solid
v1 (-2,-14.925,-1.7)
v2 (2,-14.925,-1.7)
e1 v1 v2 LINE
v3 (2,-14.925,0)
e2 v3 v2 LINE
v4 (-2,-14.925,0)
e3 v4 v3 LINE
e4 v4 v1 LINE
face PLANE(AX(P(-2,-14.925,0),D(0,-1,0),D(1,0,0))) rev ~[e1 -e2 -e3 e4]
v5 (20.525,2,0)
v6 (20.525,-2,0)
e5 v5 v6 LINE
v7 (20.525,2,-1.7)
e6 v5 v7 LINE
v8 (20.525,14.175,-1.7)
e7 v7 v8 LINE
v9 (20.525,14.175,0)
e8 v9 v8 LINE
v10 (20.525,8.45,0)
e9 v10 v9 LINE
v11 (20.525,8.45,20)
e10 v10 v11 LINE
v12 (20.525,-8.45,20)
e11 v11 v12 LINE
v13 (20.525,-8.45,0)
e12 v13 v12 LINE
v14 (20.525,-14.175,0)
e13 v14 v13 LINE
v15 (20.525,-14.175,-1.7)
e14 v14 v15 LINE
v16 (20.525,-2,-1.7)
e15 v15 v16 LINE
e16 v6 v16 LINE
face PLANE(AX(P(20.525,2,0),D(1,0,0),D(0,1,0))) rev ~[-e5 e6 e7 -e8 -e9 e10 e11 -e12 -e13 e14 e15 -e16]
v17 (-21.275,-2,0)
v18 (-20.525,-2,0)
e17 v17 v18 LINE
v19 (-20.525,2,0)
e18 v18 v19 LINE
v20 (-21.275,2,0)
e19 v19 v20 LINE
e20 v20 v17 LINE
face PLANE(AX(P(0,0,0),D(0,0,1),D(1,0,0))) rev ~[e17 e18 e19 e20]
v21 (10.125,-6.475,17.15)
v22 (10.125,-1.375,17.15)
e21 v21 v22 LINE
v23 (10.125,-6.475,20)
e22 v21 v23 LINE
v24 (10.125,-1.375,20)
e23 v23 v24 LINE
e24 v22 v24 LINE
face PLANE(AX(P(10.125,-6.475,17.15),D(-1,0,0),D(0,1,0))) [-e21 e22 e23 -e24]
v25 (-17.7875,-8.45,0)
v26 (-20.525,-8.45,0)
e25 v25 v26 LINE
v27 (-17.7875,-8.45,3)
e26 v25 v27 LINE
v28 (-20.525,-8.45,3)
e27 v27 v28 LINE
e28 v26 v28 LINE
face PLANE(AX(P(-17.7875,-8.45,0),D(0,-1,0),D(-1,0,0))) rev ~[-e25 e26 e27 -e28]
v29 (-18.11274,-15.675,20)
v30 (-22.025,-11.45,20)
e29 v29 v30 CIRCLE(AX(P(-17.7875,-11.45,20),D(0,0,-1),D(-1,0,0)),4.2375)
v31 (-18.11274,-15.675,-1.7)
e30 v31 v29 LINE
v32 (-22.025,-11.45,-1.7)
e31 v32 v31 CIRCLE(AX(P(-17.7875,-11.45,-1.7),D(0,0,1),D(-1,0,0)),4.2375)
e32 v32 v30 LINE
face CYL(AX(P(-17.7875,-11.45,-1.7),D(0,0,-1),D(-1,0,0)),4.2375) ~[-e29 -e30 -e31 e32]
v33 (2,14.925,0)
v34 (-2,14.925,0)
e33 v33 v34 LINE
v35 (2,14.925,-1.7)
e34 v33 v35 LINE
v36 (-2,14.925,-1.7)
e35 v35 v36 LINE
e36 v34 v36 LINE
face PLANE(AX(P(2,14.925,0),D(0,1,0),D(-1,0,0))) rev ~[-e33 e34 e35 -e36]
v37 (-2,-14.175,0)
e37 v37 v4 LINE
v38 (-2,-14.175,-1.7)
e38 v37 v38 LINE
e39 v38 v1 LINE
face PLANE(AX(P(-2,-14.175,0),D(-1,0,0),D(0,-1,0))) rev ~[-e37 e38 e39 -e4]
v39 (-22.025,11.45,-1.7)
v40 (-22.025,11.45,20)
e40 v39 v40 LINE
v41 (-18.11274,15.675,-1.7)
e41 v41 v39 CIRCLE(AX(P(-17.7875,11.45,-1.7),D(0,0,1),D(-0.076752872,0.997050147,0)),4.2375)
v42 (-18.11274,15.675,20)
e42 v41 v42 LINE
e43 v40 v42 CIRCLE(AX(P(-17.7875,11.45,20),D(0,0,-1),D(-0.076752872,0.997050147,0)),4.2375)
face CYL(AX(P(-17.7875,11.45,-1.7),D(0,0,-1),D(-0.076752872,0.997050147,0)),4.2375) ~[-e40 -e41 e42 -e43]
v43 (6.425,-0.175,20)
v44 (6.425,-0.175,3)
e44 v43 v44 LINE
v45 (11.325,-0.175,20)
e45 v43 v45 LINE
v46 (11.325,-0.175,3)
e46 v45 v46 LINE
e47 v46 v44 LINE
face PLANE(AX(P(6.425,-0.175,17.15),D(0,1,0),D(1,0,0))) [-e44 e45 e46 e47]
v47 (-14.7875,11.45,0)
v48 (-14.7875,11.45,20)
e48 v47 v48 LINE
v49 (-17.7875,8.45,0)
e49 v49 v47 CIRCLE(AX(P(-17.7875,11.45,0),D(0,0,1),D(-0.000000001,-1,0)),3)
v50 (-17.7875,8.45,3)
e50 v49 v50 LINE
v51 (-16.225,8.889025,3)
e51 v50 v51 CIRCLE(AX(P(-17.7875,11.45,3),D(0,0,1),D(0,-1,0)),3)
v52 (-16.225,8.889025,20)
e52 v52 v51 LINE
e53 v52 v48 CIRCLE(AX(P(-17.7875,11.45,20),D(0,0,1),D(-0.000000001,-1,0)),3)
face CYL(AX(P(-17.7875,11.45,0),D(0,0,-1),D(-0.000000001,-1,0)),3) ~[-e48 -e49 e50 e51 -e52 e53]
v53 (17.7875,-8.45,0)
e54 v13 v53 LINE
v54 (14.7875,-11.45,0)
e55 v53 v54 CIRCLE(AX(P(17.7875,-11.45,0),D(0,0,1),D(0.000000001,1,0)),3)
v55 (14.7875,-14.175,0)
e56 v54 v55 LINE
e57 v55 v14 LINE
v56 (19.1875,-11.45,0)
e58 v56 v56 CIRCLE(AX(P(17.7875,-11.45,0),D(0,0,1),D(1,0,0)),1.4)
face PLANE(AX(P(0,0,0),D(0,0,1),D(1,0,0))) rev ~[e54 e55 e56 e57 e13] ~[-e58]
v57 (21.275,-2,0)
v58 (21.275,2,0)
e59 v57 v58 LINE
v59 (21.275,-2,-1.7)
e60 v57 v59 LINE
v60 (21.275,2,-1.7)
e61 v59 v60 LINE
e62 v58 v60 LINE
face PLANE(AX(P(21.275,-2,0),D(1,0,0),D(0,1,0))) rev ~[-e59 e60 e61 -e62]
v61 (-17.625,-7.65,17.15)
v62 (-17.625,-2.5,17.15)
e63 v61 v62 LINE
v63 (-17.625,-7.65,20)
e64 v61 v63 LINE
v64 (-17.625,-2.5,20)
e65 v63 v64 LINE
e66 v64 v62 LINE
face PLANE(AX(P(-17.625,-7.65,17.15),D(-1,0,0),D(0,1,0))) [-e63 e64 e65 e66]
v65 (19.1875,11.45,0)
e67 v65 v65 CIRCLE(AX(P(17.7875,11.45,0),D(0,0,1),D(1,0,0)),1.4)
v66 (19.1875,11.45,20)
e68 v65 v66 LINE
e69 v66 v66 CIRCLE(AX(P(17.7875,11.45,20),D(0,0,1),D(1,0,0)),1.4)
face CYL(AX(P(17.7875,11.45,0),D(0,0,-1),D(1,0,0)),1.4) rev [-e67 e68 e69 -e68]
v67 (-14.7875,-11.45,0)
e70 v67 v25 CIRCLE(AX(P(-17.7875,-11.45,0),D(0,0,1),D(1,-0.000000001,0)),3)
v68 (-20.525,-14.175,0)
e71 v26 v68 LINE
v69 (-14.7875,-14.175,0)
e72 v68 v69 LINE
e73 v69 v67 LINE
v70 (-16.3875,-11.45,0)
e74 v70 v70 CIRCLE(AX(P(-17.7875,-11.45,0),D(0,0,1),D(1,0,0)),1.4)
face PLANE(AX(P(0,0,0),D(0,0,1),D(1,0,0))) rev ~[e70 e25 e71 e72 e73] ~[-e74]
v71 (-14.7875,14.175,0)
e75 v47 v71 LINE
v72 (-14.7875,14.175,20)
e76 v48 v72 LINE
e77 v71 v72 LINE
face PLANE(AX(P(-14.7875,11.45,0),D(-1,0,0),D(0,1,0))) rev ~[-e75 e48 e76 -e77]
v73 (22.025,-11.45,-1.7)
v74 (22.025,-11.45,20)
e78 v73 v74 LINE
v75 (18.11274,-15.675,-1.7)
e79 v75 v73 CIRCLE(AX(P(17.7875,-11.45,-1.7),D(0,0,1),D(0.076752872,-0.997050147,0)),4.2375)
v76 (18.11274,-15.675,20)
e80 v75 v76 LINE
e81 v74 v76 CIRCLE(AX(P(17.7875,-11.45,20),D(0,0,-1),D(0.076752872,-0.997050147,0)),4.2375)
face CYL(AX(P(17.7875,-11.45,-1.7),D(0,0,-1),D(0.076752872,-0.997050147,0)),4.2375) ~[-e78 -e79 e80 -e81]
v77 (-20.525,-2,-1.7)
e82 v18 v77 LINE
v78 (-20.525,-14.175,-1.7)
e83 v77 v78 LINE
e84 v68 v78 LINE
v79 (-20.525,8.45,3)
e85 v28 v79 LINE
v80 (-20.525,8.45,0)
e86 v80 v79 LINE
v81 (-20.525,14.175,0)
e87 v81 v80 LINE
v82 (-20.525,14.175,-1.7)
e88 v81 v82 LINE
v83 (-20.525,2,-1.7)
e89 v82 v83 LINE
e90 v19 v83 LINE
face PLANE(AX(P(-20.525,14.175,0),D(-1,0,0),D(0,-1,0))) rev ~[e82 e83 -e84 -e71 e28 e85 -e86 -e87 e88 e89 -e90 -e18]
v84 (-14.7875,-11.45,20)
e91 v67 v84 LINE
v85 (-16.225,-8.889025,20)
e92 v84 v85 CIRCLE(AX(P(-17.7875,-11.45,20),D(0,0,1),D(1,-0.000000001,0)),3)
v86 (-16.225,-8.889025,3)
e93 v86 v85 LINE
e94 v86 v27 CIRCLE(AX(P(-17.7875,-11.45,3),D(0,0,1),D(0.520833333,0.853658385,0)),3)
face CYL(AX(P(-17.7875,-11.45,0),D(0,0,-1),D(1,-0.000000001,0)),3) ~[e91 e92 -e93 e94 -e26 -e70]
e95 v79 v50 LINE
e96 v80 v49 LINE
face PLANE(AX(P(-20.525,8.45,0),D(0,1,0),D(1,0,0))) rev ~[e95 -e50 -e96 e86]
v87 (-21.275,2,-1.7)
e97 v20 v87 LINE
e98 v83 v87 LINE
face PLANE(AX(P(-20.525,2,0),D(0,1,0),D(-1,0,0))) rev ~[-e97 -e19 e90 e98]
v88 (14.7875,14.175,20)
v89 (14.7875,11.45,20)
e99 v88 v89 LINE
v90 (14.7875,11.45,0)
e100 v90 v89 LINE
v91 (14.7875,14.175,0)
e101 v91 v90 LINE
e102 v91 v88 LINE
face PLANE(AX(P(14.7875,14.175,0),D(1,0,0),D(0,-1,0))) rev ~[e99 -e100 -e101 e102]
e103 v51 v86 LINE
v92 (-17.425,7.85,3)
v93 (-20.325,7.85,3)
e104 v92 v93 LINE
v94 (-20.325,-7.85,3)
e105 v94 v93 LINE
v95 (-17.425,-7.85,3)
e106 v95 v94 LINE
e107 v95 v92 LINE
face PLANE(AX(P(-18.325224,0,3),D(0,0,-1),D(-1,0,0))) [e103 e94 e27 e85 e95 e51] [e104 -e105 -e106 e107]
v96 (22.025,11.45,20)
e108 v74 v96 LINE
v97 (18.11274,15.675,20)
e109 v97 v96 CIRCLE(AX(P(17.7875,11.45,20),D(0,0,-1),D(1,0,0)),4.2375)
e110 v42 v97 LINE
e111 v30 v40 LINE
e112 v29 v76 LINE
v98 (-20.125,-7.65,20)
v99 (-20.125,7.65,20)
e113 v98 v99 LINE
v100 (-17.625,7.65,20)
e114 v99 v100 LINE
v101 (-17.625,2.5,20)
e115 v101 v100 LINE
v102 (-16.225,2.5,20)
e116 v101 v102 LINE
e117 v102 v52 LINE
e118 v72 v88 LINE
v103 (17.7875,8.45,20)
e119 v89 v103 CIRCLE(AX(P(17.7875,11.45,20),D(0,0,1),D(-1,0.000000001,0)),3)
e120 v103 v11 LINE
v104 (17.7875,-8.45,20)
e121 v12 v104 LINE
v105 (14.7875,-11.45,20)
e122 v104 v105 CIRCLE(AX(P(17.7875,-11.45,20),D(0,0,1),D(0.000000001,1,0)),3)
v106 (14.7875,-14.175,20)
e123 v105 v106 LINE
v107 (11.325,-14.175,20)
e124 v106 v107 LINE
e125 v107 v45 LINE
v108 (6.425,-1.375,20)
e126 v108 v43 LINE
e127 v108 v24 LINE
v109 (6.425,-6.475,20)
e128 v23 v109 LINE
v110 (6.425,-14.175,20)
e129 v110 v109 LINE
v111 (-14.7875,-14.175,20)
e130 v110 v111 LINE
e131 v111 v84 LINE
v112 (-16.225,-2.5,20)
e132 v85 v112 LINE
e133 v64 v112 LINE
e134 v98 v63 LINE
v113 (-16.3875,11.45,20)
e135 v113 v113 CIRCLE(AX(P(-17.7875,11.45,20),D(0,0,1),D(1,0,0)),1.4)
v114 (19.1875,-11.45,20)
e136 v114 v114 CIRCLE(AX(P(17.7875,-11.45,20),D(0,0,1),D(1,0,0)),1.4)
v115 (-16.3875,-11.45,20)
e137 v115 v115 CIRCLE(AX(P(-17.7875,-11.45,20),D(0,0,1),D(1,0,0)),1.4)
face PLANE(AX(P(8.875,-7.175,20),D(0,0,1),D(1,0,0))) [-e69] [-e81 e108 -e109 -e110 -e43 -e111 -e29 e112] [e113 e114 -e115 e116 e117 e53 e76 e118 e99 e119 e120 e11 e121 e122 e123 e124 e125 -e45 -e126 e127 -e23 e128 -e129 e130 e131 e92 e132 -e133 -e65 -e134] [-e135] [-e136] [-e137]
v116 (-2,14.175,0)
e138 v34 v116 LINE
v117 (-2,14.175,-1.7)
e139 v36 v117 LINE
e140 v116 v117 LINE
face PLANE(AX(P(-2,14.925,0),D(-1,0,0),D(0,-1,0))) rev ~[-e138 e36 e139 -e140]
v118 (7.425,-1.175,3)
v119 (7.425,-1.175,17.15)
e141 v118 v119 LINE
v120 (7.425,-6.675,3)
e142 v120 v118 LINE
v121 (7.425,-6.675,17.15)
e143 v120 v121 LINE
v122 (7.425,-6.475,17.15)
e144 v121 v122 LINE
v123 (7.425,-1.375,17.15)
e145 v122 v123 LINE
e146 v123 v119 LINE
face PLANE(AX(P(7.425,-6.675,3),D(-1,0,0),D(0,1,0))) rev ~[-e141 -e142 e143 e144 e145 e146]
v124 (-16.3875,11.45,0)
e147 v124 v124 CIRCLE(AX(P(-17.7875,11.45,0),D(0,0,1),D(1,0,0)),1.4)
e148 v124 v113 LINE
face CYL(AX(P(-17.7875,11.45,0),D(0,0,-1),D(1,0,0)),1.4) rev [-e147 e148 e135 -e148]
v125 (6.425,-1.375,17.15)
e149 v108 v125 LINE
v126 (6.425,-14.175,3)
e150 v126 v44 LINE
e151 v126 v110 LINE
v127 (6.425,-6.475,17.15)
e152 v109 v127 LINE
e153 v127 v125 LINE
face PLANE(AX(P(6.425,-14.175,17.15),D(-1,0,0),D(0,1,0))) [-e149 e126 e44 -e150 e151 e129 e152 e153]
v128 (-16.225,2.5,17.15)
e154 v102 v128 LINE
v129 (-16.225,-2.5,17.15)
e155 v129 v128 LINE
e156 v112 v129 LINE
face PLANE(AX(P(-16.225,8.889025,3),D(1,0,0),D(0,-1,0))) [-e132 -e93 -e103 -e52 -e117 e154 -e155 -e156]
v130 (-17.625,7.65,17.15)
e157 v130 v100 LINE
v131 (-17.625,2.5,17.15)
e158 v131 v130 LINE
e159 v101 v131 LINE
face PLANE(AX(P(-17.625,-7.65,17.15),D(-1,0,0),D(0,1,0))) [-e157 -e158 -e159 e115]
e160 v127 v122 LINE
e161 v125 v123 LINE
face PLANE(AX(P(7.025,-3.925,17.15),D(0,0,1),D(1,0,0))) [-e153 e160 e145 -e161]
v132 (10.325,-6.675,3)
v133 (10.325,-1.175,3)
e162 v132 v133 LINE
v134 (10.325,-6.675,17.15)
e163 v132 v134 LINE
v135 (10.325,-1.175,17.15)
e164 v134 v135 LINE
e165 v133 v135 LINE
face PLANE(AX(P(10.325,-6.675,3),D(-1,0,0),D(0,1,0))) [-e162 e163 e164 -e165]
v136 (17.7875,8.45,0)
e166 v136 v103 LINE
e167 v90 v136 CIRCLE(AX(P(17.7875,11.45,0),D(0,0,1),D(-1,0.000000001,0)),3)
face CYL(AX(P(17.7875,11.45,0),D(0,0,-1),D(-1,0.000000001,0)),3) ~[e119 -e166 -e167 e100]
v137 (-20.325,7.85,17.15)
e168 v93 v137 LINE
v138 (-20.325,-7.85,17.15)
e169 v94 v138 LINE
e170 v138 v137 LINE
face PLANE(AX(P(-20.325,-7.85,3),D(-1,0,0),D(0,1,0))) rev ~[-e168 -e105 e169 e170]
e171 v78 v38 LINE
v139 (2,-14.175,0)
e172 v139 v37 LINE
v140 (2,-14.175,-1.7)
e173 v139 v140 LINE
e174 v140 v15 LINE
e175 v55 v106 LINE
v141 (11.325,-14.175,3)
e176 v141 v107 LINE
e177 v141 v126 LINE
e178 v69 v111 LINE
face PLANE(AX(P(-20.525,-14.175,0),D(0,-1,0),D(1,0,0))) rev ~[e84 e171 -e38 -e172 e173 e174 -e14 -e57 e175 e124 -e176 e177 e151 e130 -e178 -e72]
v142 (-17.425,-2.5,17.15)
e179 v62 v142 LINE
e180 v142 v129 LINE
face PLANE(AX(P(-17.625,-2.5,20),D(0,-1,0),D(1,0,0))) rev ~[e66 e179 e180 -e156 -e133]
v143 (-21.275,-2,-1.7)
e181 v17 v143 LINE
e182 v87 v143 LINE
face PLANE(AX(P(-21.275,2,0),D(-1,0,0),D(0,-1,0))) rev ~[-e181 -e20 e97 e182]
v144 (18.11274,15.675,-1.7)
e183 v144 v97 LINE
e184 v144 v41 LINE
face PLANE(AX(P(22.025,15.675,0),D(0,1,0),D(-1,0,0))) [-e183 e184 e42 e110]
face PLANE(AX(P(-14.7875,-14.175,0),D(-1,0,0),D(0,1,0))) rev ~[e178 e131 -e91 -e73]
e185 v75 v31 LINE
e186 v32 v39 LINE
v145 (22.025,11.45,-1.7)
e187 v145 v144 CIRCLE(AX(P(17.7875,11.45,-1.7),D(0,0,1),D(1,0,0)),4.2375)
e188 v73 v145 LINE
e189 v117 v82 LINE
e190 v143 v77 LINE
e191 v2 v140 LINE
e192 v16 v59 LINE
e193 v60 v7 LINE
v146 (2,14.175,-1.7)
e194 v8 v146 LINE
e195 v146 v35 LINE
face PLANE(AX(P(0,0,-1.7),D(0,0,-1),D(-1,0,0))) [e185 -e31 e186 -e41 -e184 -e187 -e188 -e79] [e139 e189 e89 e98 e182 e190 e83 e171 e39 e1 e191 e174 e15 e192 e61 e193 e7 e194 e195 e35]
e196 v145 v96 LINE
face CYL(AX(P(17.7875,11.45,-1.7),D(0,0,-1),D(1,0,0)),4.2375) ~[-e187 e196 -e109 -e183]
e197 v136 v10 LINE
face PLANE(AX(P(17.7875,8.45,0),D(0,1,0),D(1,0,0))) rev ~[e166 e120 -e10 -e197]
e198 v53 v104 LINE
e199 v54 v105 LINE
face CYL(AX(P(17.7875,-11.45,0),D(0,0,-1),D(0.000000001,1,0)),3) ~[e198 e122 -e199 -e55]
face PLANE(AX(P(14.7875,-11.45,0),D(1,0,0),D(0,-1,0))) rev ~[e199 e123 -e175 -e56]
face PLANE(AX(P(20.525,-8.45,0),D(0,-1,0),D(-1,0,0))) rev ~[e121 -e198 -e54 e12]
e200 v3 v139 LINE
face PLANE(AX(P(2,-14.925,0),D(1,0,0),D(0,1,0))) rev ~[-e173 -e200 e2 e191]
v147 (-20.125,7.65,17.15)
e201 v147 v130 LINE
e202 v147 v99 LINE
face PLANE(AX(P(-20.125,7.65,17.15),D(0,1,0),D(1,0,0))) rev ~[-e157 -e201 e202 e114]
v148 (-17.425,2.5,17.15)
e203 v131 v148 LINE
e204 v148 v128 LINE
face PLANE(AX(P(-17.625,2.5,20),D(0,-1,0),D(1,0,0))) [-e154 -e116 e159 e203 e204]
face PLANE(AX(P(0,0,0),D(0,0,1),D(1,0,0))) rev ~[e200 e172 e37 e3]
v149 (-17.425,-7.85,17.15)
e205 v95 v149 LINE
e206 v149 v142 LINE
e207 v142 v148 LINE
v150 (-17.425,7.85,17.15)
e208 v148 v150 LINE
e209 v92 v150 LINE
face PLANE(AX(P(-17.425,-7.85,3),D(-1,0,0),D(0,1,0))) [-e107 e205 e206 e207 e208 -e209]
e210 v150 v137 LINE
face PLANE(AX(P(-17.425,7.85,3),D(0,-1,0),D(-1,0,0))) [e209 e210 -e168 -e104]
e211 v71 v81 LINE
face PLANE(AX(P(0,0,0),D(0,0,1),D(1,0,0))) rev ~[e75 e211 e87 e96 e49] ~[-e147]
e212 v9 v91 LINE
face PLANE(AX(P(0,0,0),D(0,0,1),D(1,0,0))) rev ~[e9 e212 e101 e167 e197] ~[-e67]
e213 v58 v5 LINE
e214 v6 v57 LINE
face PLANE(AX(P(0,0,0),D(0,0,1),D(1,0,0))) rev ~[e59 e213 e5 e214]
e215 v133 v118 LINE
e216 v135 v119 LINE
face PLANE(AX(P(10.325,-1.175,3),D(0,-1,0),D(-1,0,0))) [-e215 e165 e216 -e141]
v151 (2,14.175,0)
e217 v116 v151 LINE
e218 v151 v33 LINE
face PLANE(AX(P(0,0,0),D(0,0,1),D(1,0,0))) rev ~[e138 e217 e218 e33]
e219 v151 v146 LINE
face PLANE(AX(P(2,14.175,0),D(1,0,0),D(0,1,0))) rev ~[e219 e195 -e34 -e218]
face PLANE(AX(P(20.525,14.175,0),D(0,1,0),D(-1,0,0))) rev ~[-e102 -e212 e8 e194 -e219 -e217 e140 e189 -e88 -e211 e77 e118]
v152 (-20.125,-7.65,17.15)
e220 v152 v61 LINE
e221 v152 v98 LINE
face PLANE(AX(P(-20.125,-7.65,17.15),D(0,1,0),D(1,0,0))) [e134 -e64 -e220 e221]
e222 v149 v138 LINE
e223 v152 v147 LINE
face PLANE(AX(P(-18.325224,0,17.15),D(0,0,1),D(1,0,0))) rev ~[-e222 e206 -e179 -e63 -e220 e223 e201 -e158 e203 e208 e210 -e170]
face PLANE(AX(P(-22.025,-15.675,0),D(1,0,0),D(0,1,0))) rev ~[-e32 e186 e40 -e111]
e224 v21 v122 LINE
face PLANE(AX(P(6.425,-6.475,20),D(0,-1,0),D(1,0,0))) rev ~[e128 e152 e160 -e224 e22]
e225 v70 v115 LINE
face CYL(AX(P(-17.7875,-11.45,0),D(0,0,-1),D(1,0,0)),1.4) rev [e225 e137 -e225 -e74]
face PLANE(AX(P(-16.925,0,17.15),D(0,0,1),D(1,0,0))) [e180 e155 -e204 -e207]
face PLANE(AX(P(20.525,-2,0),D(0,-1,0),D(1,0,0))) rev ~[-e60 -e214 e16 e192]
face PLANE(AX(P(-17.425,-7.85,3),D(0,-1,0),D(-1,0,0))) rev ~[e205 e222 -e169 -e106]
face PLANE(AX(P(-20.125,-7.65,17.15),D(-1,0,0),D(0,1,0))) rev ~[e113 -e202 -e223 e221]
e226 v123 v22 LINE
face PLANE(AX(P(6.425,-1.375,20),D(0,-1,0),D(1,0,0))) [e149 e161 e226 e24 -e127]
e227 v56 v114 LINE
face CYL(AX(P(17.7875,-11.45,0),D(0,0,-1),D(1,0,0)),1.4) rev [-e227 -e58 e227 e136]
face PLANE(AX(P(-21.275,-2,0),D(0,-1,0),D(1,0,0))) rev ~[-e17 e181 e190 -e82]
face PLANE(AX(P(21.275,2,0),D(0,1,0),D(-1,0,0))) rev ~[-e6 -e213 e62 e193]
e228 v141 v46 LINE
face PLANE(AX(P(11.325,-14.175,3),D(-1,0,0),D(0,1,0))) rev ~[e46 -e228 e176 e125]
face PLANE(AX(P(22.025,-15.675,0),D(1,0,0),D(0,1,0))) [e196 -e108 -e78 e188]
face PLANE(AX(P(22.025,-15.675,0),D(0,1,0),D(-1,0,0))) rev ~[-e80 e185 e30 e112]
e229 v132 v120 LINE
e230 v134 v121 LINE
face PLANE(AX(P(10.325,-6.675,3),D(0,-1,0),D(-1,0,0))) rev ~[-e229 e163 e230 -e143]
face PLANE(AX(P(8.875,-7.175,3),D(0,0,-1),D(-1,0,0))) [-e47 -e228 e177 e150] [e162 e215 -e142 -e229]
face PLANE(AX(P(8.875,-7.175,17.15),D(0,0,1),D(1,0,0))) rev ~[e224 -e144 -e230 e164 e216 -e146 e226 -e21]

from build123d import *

# Parameters (mm, degrees)
SKETCH1_W           = 44.05
SKETCH1_H           = 31.35
SKETCH1_R           = 1.4
BOSS_EXTRUDE1_DEPTH = 20
SKETCH2_W           = 44.05
SKETCH2_H           = 31.35
BOSS_EXTRUDE2_DEPTH = 1.7
SKETCH3_W           = 2.9
SKETCH3_H           = 15.7
SKETCH3_W_2         = 4.9
SKETCH3_H_2         = 14
SKETCH3_H_3         = 5.5
BOSS_EXTRUDE3_DEPTH = 14.15
SKETCH4_W           = 4.9
SKETCH4_H           = 14
SKETCH4_W_2         = 2.5
SKETCH4_H_2         = 5.1
SKETCH4_H_3         = 15.3
BOSS_EXTRUDE4_DEPTH = 2.85
SKETCH5_W           = 1.4
SKETCH5_H           = 5
SKETCH5_W_2         = 1.2
SKETCH5_H_2         = 5.1
CUT_EXTRUDE1_DEPTH  = 2.85
CUT_EXTRUDE2_REACH  = 23.7


with BuildPart() as part:
    # Sketch1 → Boss-Extrude1 (new body)
    with BuildSketch(Plane.XY):
        Rectangle(SKETCH1_W, SKETCH1_H)
        with Locations((-17.7875, -11.45)):
            Circle(SKETCH1_R, mode=Mode.SUBTRACT)
        with Locations((17.7875, -11.45)):
            Circle(SKETCH1_R, mode=Mode.SUBTRACT)
        with BuildLine():
            Line((-17.7875, -8.45), (-20.525, -8.45))
            Line((-20.525, -8.45), (-20.525, 8.45))
            Line((-20.525, 8.45), (-17.7875, 8.45))
            ThreePointArc((-17.7875, 8.45), (-15.666179656, 9.328679656), (-14.7875, 11.45))
            Line((-14.7875, 11.45), (-14.7875, 14.175))
            Line((-14.7875, 14.175), (14.7875, 14.175))
            Line((14.7875, 14.175), (14.7875, 11.45))
            ThreePointArc((14.7875, 11.45), (15.666179656, 9.328679656), (17.7875, 8.45))
            Line((17.7875, 8.45), (20.525, 8.45))
            Line((20.525, 8.45), (20.525, -8.45))
            Line((20.525, -8.45), (17.7875, -8.45))
            ThreePointArc((17.7875, -8.45), (15.666179656, -9.328679656), (14.7875, -11.45))
            Line((14.7875, -11.45), (14.7875, -14.175))
            Line((14.7875, -14.175), (-14.7875, -14.175))
            Line((-14.7875, -14.175), (-14.7875, -11.45))
            ThreePointArc((-14.7875, -11.45), (-15.666179656, -9.328679656), (-17.7875, -8.45))
        make_face(mode=Mode.SUBTRACT)
        with Locations((-17.7875, 11.45)):
            Circle(SKETCH1_R, mode=Mode.SUBTRACT)
        with Locations((17.7875, 11.45)):
            Circle(SKETCH1_R, mode=Mode.SUBTRACT)
    extrude(amount=BOSS_EXTRUDE1_DEPTH)

    # Sketch2 → Boss-Extrude2 (add)
    with BuildSketch(Plane(origin=(0, 0, 0), x_dir=(-1, 0, 0), z_dir=(0, 0, -1))):
        Rectangle(SKETCH2_W, SKETCH2_H)
        Polygon((-20.525, 8.45), (-20.525, 14.175), (-14.7875, 14.175), (-2, 14.175), (-2, 14.925), (2, 14.925), (2, 14.175), (14.7875, 14.175), (20.525, 14.175), (20.525, 8.45), (20.525, 2), (21.275, 2), (21.275, -2), (20.525, -2), (20.525, -8.45), (20.525, -14.175), (14.7875, -14.175), (2, -14.175), (2, -14.925), (-2, -14.925), (-2, -14.175), (-14.7875, -14.175), (-20.525, -14.175), (-20.525, -8.45), (-20.525, -2), (-21.275, -2), (-21.275, 2), (-20.525, 2), align=None, mode=Mode.SUBTRACT)
    extrude(amount=BOSS_EXTRUDE2_DEPTH)

    # Sketch3 → Boss-Extrude3 (add)
    with BuildSketch(Plane(origin=(0, 0, 3), x_dir=(-1, 0, 0), z_dir=(0, 0, -1))):
        with BuildLine():
            ThreePointArc((16.225, -8.889024844), (16.975996909, -8.561840944), (17.7875, -8.45))
            Line((17.7875, -8.45), (20.525, -8.45))
            Line((20.525, -8.45), (20.525, 8.45))
            Line((20.525, 8.45), (17.7875, 8.45))
            ThreePointArc((17.7875, 8.45), (16.975996909, 8.561840944), (16.225, 8.889024844))
            Line((16.225, 8.889024844), (16.225, -8.889024844))
        make_face()
        with Locations((18.875, 0)):
            Rectangle(SKETCH3_W, SKETCH3_H, mode=Mode.SUBTRACT)
        with Locations((-8.875, -7.175)):
            Rectangle(SKETCH3_W_2, SKETCH3_H_2)
        with Locations((-8.875, -3.925)):
            Rectangle(SKETCH3_W, SKETCH3_H_3, mode=Mode.SUBTRACT)
    extrude(amount=-BOSS_EXTRUDE3_DEPTH)

    # Sketch4 → Boss-Extrude4 (add)
    with BuildSketch(Plane.XY.offset(17.15)):
        with Locations((8.875, -7.175)):
            Rectangle(SKETCH4_W, SKETCH4_H)
        with Locations((8.875, -3.925)):
            Rectangle(SKETCH4_W_2, SKETCH4_H_2, mode=Mode.SUBTRACT)
        with BuildLine():
            Line((-20.525, -8.45), (-17.7875, -8.45))
            ThreePointArc((-17.7875, -8.45), (-16.975996909, -8.561840944), (-16.225, -8.889024844))
            Line((-16.225, -8.889024844), (-16.225, 8.889024844))
            ThreePointArc((-16.225, 8.889024844), (-16.975996909, 8.561840944), (-17.7875, 8.45))
            Line((-17.7875, 8.45), (-20.525, 8.45))
            Line((-20.525, 8.45), (-20.525, -8.45))
        make_face()
        with Locations((-18.875, 0)):
            Rectangle(SKETCH4_W_2, SKETCH4_H_3, mode=Mode.SUBTRACT)
    extrude(amount=BOSS_EXTRUDE4_DEPTH)

    # Sketch5 → Cut-Extrude1 (cut)
    with BuildSketch(Plane.XY.offset(20)):
        with Locations((-16.925, 0)):
            Rectangle(SKETCH5_W, SKETCH5_H)
        with Locations((7.025, -3.925)):
            Rectangle(SKETCH5_W_2, SKETCH5_H_2)
    extrude(amount=-CUT_EXTRUDE1_DEPTH, mode=Mode.SUBTRACT)

    # Sketch6 → Cut-Extrude2 (cut, up to next)
    with BuildSketch(Plane(origin=(0, 0, -1.7), x_dir=(-1, 0, 0), z_dir=(0, 0, -1)), mode=Mode.PRIVATE) as cut_extrude2_sk1:
        with BuildLine():
            Line((-18.112740296, 15.675), (-22.025, 15.675))
            Line((-22.025, 15.675), (-22.025, 11.45))
            ThreePointArc((-22.025, 11.45), (-20.896729165, 14.329079757), (-18.112740296, 15.675))
        make_face()
    cut_extrude2_tool1 = extrude(cut_extrude2_sk1.sketch, amount=-CUT_EXTRUDE2_REACH, mode=Mode.PRIVATE) & part.part
    add(cut_extrude2_tool1.solids().sort_by_distance((21.092545, 14.728552, -1.7))[0], mode=Mode.SUBTRACT)
    # Sketch6 → Cut-Extrude2 (cut, up to next)
    with BuildSketch(Plane(origin=(0, 0, -1.7), x_dir=(-1, 0, 0), z_dir=(0, 0, -1)), mode=Mode.PRIVATE) as cut_extrude2_sk2:
        with BuildLine():
            Line((22.025, 15.675), (18.112740296, 15.675))
            ThreePointArc((18.112740296, 15.675), (20.896729165, 14.329079757), (22.025, 11.45))
            Line((22.025, 11.45), (22.025, 15.675))
        make_face()
    cut_extrude2_tool2 = extrude(cut_extrude2_sk2.sketch, amount=-CUT_EXTRUDE2_REACH, mode=Mode.PRIVATE) & part.part
    add(cut_extrude2_tool2.solids().sort_by_distance((-21.092545, 14.728552, -1.7))[0], mode=Mode.SUBTRACT)
    # Sketch6 → Cut-Extrude2 (cut, up to next)
    with BuildSketch(Plane(origin=(0, 0, -1.7), x_dir=(-1, 0, 0), z_dir=(0, 0, -1)), mode=Mode.PRIVATE) as cut_extrude2_sk3:
        with BuildLine():
            Line((22.025, -15.675), (22.025, -11.45))
            ThreePointArc((22.025, -11.45), (20.896729165, -14.329079757), (18.112740296, -15.675))
            Line((18.112740296, -15.675), (22.025, -15.675))
        make_face()
    cut_extrude2_tool3 = extrude(cut_extrude2_sk3.sketch, amount=-CUT_EXTRUDE2_REACH, mode=Mode.PRIVATE) & part.part
    add(cut_extrude2_tool3.solids().sort_by_distance((-21.092545, -14.728552, -1.7))[0], mode=Mode.SUBTRACT)
    # Sketch6 → Cut-Extrude2 (cut, up to next)
    with BuildSketch(Plane(origin=(0, 0, -1.7), x_dir=(-1, 0, 0), z_dir=(0, 0, -1)), mode=Mode.PRIVATE) as cut_extrude2_sk4:
        with BuildLine():
            ThreePointArc((-18.112740296, -15.675), (-20.896729167, -14.329079755), (-22.025, -11.449999993))
            Line((-22.025, -11.449999993), (-22.025, -15.675))
            Line((-22.025, -15.675), (-18.112740296, -15.675))
        make_face()
    cut_extrude2_tool4 = extrude(cut_extrude2_sk4.sketch, amount=-CUT_EXTRUDE2_REACH, mode=Mode.PRIVATE) & part.part
    add(cut_extrude2_tool4.solids().sort_by_distance((21.092545, -14.728552, -1.7))[0], mode=Mode.SUBTRACT)


solid = part.part
